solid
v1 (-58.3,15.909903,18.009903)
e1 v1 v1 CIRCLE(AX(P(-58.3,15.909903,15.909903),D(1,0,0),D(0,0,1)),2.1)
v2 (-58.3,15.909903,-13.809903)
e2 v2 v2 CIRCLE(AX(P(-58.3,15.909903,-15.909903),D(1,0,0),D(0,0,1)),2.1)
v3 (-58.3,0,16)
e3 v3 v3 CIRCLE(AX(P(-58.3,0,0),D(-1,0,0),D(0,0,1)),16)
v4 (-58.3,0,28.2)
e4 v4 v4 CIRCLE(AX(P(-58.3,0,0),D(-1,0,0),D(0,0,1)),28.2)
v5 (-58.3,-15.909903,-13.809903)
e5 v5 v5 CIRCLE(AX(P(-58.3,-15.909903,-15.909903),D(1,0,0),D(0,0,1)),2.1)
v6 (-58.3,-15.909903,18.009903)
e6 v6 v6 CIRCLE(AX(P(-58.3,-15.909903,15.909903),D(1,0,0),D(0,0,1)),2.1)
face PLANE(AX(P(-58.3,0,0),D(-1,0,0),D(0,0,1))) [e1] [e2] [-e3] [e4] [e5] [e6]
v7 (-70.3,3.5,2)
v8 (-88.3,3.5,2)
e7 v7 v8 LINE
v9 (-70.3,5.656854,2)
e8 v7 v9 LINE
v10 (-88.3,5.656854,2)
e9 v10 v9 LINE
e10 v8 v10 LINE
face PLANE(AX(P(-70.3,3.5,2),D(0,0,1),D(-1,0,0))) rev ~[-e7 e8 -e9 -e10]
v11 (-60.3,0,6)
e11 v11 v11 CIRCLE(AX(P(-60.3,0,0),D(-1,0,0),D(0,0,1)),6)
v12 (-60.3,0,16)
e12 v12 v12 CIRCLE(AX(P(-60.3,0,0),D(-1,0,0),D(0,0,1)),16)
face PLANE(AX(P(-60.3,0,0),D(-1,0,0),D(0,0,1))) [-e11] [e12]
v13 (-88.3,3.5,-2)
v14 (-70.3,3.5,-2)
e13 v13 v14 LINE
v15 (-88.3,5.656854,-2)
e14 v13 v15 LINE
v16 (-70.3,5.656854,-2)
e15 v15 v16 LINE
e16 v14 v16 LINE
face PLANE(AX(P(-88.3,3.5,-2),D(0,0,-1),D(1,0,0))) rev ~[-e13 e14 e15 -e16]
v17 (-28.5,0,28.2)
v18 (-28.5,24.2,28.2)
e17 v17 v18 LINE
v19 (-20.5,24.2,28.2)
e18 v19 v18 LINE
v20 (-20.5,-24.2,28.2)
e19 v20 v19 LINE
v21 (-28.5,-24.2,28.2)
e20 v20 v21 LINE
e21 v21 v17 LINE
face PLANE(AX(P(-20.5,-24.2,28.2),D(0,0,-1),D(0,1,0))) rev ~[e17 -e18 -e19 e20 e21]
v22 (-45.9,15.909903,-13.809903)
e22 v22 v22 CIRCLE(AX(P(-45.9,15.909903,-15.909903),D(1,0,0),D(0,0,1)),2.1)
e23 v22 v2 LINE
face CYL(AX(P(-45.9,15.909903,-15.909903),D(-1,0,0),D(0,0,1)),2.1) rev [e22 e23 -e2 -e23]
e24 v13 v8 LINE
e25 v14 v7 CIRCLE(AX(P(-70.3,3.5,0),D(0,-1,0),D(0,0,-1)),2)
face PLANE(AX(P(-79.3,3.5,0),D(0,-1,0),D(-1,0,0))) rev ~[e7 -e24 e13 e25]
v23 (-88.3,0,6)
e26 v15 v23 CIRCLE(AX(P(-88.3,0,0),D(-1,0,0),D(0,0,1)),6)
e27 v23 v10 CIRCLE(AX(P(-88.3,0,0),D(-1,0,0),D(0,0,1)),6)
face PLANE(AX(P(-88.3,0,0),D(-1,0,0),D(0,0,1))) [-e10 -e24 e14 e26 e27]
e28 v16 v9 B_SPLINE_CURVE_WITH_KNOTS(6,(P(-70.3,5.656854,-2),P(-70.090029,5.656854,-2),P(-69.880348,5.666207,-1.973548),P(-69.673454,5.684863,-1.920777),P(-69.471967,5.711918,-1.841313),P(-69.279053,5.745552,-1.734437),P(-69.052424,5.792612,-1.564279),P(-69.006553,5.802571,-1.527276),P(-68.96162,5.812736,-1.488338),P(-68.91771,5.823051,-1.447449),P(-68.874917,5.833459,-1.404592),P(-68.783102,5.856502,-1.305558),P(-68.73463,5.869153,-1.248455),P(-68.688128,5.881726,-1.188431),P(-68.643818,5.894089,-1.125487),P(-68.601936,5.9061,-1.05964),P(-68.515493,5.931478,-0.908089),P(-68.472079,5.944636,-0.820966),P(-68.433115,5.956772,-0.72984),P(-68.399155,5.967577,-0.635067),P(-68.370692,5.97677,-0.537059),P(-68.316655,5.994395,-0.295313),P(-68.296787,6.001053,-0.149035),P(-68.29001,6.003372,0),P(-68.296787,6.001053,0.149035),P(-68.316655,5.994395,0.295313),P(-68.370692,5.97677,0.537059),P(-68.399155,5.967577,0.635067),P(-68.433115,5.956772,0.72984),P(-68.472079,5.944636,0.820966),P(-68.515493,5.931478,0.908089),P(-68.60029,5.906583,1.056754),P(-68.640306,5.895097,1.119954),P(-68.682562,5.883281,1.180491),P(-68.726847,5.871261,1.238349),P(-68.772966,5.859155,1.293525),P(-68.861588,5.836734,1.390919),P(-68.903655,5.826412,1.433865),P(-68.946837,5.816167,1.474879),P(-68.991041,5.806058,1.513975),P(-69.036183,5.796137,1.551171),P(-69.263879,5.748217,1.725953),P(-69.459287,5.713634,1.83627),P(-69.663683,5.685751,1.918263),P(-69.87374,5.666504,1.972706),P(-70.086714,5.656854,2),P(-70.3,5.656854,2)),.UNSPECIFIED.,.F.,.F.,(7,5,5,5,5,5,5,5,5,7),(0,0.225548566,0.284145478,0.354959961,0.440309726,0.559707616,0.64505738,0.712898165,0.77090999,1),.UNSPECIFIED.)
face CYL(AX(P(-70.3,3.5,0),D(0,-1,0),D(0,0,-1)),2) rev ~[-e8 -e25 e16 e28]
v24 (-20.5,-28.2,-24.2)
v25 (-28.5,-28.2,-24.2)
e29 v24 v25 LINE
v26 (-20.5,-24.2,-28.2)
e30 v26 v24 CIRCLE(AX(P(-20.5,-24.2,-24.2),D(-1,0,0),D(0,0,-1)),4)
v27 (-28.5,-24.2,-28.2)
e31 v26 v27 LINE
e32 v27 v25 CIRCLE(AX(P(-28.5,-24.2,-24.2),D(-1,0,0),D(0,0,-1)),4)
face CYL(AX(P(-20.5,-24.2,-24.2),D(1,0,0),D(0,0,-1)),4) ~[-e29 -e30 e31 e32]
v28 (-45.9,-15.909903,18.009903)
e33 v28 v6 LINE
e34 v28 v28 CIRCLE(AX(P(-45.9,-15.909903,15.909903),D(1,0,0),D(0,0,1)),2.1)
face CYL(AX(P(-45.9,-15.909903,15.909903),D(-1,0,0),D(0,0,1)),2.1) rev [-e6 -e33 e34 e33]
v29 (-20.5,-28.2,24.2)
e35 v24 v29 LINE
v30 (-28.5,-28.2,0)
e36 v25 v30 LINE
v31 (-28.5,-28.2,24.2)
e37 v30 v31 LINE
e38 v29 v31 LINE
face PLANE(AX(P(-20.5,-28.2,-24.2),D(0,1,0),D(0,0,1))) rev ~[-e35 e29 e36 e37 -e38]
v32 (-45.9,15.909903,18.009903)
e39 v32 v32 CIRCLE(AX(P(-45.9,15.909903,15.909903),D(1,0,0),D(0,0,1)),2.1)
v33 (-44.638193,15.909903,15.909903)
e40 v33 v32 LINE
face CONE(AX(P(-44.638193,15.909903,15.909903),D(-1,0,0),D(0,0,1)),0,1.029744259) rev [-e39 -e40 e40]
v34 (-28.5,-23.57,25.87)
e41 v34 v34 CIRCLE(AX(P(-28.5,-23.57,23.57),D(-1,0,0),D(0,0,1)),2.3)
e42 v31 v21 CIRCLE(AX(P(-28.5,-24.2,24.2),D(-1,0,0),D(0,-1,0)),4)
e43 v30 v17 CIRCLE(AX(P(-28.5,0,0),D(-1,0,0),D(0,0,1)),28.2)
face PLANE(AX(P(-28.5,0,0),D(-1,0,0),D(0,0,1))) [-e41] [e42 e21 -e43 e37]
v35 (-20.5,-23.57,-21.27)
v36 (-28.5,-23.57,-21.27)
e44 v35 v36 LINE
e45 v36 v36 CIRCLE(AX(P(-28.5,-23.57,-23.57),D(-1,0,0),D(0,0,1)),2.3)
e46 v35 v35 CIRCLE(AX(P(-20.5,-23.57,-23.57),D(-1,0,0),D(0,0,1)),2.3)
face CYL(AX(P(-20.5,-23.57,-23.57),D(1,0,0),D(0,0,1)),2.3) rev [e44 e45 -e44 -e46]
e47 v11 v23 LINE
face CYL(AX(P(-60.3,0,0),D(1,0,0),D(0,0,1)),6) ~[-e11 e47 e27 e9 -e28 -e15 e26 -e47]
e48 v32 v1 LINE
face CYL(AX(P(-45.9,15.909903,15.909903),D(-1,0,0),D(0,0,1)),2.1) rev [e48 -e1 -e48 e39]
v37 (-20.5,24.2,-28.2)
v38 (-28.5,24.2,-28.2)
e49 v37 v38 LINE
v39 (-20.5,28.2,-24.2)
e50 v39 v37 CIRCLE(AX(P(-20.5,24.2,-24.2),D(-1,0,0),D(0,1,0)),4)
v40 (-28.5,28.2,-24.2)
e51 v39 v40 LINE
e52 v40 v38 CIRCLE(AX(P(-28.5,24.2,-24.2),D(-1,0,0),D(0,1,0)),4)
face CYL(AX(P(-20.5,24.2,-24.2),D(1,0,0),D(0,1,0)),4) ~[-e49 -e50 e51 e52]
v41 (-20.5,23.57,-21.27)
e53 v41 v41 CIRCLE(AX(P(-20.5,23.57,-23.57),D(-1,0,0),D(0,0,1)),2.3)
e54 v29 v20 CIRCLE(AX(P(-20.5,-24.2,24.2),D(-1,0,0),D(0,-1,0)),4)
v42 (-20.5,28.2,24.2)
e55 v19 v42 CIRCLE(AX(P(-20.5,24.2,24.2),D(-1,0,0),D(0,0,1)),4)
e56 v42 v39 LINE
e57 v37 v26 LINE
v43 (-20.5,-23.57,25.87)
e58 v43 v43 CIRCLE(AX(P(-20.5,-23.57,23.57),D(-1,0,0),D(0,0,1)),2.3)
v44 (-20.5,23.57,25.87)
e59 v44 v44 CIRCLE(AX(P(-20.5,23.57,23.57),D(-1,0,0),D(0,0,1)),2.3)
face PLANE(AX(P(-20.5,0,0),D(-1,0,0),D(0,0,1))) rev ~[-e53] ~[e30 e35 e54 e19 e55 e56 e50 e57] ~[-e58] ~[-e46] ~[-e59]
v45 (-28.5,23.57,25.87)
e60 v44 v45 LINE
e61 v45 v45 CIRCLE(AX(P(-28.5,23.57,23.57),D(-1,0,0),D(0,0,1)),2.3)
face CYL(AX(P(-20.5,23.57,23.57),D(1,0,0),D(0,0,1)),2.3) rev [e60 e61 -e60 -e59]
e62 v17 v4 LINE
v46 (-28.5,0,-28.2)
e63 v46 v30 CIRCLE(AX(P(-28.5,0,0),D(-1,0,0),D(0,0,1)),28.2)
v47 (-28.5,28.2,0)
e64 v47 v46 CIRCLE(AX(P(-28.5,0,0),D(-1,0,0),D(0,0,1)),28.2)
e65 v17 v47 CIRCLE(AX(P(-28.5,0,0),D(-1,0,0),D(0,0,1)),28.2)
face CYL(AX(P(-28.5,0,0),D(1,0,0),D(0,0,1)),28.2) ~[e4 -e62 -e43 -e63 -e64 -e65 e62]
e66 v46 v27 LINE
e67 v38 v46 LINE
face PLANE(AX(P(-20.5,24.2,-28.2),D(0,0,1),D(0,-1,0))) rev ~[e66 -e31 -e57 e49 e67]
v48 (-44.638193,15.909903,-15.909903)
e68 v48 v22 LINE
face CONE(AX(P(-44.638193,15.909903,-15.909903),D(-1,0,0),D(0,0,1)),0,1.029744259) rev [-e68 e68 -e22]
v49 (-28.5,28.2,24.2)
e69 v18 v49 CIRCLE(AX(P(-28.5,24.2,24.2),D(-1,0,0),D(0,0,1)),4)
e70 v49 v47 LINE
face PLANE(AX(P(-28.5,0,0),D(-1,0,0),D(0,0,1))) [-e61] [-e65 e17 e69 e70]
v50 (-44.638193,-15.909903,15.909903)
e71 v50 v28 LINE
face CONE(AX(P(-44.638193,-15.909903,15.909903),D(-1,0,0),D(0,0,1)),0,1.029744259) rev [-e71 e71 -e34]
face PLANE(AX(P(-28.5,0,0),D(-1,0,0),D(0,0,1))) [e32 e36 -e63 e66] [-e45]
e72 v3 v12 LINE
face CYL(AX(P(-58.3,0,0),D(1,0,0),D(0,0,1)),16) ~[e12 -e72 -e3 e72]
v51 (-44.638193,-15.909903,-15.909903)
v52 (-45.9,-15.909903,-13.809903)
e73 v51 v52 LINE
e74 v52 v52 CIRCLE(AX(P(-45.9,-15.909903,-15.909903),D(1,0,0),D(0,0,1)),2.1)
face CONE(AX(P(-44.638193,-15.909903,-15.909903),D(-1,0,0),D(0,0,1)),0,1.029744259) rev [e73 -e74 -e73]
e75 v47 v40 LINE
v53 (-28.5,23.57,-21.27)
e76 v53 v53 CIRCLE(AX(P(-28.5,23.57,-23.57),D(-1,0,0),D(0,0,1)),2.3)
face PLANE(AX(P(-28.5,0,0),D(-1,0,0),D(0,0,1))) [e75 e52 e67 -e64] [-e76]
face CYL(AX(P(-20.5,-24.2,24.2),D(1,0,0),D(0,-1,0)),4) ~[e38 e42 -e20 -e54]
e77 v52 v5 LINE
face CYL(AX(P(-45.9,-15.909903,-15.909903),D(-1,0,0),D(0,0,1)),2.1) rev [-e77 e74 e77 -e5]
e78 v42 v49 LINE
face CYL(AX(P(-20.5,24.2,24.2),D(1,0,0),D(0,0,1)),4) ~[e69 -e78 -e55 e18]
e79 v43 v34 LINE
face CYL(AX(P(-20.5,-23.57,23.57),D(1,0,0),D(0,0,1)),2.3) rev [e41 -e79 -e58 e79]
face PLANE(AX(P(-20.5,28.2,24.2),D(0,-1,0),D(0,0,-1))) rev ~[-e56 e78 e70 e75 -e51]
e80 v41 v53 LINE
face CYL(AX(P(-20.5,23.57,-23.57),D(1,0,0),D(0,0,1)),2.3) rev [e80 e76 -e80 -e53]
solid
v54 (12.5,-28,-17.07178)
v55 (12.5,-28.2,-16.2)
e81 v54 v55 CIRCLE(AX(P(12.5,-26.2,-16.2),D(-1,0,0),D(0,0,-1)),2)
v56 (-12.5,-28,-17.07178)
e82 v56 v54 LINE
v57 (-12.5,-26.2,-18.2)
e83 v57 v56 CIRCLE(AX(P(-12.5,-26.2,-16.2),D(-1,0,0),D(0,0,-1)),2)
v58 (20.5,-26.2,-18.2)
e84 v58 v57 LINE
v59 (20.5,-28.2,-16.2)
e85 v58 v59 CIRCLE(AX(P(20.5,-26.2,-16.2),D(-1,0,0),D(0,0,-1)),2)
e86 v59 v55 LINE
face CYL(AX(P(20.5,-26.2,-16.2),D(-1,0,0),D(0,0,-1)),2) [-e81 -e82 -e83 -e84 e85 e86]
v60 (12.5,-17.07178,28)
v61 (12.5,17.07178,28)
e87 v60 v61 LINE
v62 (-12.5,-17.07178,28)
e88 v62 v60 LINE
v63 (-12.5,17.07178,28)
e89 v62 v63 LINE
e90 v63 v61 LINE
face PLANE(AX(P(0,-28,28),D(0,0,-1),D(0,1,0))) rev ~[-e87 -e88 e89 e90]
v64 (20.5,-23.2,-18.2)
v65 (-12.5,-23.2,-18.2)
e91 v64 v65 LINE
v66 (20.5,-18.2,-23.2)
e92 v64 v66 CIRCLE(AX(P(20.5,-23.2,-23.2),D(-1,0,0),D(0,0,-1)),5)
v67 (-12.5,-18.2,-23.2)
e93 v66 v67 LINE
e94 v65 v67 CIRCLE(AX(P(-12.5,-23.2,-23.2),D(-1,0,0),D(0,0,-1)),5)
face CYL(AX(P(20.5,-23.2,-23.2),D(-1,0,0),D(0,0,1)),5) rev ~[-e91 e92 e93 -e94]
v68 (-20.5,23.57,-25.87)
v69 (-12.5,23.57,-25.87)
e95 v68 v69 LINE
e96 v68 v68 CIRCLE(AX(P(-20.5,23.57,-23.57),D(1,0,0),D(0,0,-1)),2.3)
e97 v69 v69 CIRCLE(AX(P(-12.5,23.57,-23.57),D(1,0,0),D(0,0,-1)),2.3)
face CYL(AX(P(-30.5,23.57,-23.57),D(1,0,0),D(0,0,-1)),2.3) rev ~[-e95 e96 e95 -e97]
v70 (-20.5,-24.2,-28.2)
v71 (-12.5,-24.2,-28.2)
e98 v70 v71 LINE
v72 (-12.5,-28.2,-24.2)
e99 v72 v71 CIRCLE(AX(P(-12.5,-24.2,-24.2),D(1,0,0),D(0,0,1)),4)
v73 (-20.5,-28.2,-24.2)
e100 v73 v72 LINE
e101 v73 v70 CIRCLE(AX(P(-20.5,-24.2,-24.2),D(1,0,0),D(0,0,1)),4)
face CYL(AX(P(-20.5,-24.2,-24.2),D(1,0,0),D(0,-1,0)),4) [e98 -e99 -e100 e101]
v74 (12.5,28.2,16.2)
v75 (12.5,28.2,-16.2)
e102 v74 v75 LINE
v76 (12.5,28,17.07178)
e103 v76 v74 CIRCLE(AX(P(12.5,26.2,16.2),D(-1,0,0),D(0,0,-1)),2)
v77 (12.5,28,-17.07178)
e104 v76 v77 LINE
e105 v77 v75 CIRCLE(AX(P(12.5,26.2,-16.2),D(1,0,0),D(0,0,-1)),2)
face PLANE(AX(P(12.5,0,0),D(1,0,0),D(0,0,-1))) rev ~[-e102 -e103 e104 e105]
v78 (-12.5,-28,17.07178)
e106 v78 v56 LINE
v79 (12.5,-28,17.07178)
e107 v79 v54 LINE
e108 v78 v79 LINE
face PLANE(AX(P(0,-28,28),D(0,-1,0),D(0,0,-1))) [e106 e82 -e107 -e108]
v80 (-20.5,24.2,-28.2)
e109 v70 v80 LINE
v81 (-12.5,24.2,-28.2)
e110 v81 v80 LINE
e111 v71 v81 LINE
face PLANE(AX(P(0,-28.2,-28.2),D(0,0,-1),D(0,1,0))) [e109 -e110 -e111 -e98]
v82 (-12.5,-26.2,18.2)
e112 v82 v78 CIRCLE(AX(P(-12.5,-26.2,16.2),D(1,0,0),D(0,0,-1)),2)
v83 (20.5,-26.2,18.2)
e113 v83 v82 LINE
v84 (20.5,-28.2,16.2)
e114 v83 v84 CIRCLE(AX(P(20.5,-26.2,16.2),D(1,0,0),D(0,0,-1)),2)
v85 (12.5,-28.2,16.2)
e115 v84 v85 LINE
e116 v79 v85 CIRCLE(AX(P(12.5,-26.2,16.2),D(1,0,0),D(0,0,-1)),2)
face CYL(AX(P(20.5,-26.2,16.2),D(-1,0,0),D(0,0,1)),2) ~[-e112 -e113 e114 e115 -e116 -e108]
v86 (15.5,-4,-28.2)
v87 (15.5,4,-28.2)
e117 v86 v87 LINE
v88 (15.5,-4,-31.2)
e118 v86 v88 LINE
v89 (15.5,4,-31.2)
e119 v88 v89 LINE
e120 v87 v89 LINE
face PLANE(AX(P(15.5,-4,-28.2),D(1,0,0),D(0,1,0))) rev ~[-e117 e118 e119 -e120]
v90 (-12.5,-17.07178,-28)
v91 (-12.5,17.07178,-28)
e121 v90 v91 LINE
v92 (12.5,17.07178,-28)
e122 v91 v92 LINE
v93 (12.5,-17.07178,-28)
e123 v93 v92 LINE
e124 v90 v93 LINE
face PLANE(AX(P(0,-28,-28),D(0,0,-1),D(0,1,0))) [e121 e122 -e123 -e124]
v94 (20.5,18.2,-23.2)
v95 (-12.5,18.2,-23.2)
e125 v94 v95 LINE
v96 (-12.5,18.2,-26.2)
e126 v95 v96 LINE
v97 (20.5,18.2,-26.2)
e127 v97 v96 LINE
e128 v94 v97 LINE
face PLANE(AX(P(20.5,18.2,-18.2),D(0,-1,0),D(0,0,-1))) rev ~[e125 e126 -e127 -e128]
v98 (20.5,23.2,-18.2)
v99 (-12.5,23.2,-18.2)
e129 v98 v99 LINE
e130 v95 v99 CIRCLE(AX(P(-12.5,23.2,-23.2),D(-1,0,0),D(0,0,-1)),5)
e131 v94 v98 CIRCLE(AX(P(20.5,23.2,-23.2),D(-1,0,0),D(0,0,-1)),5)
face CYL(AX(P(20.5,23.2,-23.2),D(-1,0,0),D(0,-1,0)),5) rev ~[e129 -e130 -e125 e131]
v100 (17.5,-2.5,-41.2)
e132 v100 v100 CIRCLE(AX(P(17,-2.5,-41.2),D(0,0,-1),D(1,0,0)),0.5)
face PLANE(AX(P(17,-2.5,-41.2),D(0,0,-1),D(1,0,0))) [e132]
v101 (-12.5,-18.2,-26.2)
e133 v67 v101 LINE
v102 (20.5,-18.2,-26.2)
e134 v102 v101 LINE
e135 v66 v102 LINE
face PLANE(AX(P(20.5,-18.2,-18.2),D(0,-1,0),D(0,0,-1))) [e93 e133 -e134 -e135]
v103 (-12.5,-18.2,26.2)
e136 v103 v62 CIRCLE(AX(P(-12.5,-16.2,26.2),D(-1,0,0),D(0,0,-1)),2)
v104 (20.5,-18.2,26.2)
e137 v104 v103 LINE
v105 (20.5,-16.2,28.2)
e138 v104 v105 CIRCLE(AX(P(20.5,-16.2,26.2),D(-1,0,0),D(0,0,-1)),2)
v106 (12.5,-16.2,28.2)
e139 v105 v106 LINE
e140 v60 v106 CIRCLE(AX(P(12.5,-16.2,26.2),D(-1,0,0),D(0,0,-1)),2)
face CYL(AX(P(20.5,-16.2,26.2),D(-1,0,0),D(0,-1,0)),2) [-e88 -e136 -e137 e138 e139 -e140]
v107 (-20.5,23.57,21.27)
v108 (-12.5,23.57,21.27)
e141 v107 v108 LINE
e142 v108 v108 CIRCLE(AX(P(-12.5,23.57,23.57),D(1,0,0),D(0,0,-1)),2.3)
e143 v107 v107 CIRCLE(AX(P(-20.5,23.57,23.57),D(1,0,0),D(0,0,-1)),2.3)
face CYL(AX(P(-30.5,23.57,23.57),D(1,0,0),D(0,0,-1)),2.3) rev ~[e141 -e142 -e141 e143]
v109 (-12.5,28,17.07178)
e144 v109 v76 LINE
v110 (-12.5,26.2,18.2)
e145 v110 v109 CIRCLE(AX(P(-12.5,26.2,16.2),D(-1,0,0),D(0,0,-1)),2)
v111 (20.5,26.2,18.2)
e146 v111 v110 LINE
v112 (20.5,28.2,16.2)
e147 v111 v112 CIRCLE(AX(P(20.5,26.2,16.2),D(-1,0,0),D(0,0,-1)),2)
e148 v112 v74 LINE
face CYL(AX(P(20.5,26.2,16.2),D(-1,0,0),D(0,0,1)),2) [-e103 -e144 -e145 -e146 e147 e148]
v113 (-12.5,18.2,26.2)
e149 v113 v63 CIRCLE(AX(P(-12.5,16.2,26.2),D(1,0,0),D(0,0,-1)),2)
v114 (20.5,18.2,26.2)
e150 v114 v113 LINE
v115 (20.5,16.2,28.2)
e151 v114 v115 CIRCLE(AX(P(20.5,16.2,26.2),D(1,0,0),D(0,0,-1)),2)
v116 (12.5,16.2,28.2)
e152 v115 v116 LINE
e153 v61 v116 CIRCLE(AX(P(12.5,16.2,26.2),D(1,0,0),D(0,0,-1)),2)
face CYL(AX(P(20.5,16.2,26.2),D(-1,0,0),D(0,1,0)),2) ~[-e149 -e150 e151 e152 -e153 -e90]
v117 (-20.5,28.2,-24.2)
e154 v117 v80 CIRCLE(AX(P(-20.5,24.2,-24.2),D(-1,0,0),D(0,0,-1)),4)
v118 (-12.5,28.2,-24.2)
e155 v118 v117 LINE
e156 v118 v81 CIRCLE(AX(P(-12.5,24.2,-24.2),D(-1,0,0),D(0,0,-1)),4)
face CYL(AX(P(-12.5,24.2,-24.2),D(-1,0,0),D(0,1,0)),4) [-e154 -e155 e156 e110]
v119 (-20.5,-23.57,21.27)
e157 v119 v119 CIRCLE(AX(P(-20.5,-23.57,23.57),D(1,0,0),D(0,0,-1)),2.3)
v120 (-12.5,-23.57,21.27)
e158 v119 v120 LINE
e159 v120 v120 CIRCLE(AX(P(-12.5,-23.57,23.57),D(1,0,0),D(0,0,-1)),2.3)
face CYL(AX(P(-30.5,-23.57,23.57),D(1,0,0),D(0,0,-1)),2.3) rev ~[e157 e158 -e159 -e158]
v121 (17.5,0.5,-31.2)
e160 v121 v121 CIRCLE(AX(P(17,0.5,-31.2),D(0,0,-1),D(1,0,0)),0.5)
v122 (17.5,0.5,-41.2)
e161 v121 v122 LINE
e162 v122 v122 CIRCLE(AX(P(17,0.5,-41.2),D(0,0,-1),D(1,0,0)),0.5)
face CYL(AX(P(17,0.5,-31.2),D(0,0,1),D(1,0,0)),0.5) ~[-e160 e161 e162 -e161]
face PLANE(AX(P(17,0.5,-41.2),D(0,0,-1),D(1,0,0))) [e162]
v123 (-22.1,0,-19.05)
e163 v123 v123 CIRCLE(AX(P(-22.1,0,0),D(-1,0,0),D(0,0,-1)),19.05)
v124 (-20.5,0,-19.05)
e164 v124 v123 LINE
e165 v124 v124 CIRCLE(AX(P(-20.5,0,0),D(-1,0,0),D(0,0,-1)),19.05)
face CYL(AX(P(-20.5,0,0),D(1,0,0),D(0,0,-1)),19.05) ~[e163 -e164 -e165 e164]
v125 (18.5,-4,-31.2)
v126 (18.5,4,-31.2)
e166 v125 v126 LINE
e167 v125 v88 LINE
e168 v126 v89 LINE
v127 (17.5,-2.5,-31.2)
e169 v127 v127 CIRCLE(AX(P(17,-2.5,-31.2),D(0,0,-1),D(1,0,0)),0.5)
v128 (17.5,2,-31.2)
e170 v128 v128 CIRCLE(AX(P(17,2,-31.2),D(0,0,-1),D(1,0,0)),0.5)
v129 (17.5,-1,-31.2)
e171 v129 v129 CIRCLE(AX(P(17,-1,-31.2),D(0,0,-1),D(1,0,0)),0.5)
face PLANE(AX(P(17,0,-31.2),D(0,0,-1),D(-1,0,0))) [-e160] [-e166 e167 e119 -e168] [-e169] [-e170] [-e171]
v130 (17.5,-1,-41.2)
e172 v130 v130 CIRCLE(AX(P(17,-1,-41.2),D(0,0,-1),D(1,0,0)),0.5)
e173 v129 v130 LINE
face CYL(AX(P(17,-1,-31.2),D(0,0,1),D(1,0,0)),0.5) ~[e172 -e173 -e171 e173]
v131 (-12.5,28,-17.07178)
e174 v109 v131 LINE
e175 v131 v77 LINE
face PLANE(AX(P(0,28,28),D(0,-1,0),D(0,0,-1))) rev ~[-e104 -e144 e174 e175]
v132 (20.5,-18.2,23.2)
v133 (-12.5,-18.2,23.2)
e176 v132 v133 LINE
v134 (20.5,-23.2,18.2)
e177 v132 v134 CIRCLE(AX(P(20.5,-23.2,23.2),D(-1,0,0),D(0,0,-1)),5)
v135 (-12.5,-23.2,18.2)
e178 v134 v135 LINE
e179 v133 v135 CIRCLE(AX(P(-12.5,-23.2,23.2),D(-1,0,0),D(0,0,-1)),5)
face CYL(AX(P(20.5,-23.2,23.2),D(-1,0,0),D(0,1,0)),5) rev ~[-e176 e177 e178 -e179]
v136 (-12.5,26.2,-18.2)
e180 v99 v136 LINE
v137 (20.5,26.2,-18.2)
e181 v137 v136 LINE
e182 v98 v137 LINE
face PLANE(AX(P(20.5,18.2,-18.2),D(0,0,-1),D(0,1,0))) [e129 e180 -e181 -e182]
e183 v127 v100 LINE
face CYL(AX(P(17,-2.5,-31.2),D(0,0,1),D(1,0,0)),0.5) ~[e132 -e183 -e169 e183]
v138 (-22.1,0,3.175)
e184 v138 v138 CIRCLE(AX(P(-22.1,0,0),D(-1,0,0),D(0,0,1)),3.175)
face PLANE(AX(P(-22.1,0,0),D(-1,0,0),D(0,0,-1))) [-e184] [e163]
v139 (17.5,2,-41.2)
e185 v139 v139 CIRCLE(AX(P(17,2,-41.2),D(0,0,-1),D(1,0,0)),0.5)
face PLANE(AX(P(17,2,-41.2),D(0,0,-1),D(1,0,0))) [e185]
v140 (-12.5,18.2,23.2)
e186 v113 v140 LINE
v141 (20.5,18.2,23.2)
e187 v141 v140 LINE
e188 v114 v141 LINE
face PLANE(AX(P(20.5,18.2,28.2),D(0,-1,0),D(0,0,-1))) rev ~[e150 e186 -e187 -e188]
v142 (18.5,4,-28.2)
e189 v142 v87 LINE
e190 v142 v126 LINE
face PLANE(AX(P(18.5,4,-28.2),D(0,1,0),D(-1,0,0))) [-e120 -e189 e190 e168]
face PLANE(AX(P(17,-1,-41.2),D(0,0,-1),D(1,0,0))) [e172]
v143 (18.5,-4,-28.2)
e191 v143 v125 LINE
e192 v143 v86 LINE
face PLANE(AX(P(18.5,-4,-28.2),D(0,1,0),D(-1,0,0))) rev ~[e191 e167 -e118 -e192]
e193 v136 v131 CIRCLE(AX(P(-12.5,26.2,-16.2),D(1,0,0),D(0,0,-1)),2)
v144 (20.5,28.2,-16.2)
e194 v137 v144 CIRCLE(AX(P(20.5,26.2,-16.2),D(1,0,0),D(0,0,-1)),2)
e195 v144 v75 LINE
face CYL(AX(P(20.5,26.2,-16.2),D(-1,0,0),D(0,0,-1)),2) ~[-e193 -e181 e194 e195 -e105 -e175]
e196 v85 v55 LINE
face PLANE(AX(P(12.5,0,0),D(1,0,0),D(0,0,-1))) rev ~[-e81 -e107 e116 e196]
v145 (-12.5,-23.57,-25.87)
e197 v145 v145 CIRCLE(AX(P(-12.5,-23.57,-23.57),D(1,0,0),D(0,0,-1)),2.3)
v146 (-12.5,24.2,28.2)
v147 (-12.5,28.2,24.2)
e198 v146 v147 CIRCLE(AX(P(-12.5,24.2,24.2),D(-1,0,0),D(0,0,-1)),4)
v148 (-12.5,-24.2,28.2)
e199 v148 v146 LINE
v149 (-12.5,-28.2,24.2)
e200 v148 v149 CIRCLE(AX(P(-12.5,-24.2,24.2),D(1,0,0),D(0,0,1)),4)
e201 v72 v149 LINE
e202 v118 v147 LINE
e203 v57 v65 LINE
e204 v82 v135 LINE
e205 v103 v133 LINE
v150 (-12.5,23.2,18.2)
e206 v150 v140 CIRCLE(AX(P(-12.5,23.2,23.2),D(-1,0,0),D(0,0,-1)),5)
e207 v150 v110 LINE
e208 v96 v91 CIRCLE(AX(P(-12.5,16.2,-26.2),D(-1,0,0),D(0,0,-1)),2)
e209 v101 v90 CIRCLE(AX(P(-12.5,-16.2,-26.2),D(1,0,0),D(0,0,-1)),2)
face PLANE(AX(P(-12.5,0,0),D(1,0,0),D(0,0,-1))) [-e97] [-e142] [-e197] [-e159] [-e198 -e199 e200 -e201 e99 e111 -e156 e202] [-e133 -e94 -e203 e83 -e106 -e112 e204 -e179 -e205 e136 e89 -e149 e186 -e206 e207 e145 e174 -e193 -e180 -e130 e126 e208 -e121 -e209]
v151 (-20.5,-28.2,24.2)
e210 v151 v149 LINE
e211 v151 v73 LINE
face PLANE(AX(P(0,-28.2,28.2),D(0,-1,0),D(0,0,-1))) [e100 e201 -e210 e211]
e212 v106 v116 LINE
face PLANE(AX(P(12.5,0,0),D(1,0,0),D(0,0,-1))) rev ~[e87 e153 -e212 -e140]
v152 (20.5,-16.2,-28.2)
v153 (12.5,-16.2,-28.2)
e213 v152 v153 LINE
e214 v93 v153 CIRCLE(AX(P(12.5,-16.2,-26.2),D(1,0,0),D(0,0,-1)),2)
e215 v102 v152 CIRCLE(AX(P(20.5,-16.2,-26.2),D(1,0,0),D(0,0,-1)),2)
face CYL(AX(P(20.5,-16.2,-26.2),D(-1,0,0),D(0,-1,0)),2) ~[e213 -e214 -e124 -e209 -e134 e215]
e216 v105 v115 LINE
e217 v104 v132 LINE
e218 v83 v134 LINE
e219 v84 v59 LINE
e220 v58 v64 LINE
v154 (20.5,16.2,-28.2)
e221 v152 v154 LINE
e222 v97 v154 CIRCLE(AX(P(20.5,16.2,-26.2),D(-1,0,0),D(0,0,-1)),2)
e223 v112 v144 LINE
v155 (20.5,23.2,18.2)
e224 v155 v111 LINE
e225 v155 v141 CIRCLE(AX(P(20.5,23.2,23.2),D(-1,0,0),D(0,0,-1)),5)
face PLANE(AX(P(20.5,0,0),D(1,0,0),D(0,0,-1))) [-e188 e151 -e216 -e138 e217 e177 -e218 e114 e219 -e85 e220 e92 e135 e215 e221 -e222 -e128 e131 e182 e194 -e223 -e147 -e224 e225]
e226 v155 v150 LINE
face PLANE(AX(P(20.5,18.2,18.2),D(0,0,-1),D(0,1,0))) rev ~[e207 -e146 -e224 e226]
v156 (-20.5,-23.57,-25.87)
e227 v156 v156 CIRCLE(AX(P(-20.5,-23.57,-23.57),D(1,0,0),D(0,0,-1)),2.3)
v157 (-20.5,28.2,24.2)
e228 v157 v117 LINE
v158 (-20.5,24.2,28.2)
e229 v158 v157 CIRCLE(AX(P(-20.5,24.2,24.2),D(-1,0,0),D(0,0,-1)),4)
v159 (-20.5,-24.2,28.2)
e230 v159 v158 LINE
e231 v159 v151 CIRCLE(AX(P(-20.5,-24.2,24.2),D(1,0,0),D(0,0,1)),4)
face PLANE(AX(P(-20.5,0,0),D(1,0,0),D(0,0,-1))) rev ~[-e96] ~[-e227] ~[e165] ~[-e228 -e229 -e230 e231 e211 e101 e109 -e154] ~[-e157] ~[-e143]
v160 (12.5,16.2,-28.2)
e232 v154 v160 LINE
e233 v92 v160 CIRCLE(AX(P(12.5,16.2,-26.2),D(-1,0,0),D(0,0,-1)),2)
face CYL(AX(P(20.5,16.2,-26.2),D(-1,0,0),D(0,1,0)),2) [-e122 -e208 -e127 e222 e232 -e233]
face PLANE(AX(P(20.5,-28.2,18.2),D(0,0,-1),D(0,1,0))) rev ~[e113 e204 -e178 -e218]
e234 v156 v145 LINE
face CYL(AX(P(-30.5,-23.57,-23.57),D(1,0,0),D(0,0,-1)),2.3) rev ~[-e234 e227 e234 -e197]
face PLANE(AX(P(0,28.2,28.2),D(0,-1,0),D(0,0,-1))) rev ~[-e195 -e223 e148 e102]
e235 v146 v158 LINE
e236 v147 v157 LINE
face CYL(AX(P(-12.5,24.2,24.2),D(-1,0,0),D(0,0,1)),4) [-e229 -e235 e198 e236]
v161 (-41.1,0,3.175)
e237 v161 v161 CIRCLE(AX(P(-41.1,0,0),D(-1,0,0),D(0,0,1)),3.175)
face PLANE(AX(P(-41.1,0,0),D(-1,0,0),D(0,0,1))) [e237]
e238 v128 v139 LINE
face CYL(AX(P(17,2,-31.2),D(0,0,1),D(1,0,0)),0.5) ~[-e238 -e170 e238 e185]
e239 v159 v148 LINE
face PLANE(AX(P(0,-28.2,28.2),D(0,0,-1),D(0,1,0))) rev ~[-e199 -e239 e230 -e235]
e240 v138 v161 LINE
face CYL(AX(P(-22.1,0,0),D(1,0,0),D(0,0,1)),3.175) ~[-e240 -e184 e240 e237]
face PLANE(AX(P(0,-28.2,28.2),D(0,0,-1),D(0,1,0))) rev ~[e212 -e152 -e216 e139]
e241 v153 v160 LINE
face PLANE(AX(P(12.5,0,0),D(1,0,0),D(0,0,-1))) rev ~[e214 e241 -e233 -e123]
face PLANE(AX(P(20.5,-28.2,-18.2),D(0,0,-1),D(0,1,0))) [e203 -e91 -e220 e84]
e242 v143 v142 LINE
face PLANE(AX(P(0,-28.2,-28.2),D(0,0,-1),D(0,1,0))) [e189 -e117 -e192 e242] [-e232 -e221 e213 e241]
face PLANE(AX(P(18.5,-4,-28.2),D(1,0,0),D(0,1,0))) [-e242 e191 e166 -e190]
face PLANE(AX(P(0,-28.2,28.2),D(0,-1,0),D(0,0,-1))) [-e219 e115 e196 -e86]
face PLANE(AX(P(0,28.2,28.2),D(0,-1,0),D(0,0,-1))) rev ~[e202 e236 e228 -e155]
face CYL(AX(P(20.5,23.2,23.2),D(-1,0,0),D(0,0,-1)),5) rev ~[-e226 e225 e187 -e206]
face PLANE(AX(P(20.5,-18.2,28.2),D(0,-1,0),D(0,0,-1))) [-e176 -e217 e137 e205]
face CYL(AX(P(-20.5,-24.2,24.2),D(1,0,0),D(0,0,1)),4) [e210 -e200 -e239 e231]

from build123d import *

# Parameters (mm, degrees)
SKETCH_1_W                  = 56.4
SKETCH_1_H                  = 56.4
EXTRUDE_1_DEPTH             = 20.5
SKETCH_7_W                  = 56.4
SKETCH_7_H                  = 56.4
SKETCH_7_W_2                = 56
SKETCH_7_H_2                = 56
CUT_EXTRUDE_1_DEPTH         = 12.5
SKETCH_2_R                  = 19.05
EXTRUDE_2_DEPTH             = 1.6
SKETCH_3_R                  = 3.175
EXTRUDE_3_DEPTH             = 19
SKETCH_10_W                 = 3
SKETCH_10_H                 = 8
EXTRUDE_4_DEPTH             = 3
SKETCH_11_R                 = 0.5
EXTRUDE_5_DEPTH             = 10
SKETCH_12_W                 = 10
SKETCH_12_H                 = 10
CUT_EXTRUDE_2_DEPTH         = 33
FILLET_2_R                  = 5
FILLET_3_R                  = 2
HOLE_WIZARD_4_6_4_6_1_D     = 4.6
HOLE_WIZARD_4_6_4_6_1_DEPTH = 10
HOLE_WIZARD_4_6_4_6_1_TIP   = 1.381979424
FILLET_1_R                  = 4
SKETCH_13_R                 = 2.3
EXTRUDE_6_DEPTH             = 8
SKETCH_14_R                 = 28.2
EXTRUDE_7_DEPTH             = 29.8
SKETCH_15_R                 = 16
EXTRUDE_8_DEPTH             = 2
SKETCH_16_R                 = 6
EXTRUDE_9_DEPTH             = 28
CUT_EXTRUDE_START           = 3.5
CUT_EXTRUDE_4_DEPTH         = 28
HOLE_WIZARD_M5_1_AT_2_COUNT = 2
HOLE_WIZARD_M5_1_AT_2_PITCH = 31.819805153
HOLE_WIZARD_M5_1_AT_3_COUNT = 2
HOLE_WIZARD_M5_1_AT_3_PITCH = 31.819805153
HOLE_WIZARD_M5_1_AT_4_COUNT = 2
HOLE_WIZARD_M5_1_AT_4_PITCH = 45


with BuildPart() as part:
    # 草图1 → 凸台-拉伸1 (new, symmetric)
    with BuildSketch(Plane(origin=(0, 0, 0), x_dir=(0, 0, -1), z_dir=(1, 0, 0))):
        Rectangle(SKETCH_1_W, SKETCH_1_H)
    extrude(amount=EXTRUDE_1_DEPTH, both=True)

    # 草图7 → 切除-拉伸1 (cut, symmetric)
    with BuildSketch(Plane(origin=(0, 0, 0), x_dir=(0, 0, -1), z_dir=(1, 0, 0))):
        Rectangle(SKETCH_7_W, SKETCH_7_H)
        Rectangle(SKETCH_7_W_2, SKETCH_7_H_2, mode=Mode.SUBTRACT)
    extrude(amount=CUT_EXTRUDE_1_DEPTH, both=True, mode=Mode.SUBTRACT)

    # 草图2 → 凸台-拉伸2 (add)
    with BuildSketch(Plane.ZY.offset(20.5)):
        with Locations(Location((0, 0, 0), (0, 0, 180))):
            Circle(SKETCH_2_R)
    extrude(amount=EXTRUDE_2_DEPTH)

    # 草图3 → 凸台-拉伸3 (add)
    with BuildSketch(Plane.ZY.offset(22.1)):
        Circle(SKETCH_3_R)
    extrude(amount=EXTRUDE_3_DEPTH)

    # 草图10 → 凸台-拉伸4 (add)
    with BuildSketch(Plane(origin=(0, 0, -28.2), x_dir=(-1, 0, 0), z_dir=(0, 0, -1))):
        with Locations((-17, 0)):
            Rectangle(SKETCH_10_W, SKETCH_10_H)
    extrude(amount=EXTRUDE_4_DEPTH)

    # 草图11 → 凸台-拉伸5 (add)
    with BuildSketch(Plane(origin=(0, 0, -31.2), x_dir=(-1, 0, 0), z_dir=(0, 0, -1))):
        with Locations(Location((-17, -2.5, 0), (0, 0, 180))):
            Circle(SKETCH_11_R)
        with Locations(Location((-17, -1, 0), (0, 0, 180))):
            Circle(SKETCH_11_R)
        with Locations(Location((-17, 0.5, 0), (0, 0, 180))):
            Circle(SKETCH_11_R)
        with Locations(Location((-17, 2, 0), (0, 0, 180))):
            Circle(SKETCH_11_R)
    extrude(amount=EXTRUDE_5_DEPTH)

    # 草图12 → 切除-拉伸2 (cut)
    with BuildSketch(Plane(origin=(20.5, 0, 0), x_dir=(0, 0, -1), z_dir=(1, 0, 0))):
        with Locations((23.2, -23.2)):
            Rectangle(SKETCH_12_W, SKETCH_12_H)
        with Locations((-23.2, -23.2)):
            Rectangle(SKETCH_12_W, SKETCH_12_H)
        with Locations((-23.2, 23.2)):
            Rectangle(SKETCH_12_W, SKETCH_12_H)
        with Locations((23.2, 23.2)):
            Rectangle(SKETCH_12_W, SKETCH_12_H)
    extrude(amount=-CUT_EXTRUDE_2_DEPTH, mode=Mode.SUBTRACT)

    # 圆角2
    fillet_2_edges = [part.edges().sort_by_distance(p)[0] for p in [
        (4, -18.2, 18.2),
        (4, 18.2, 18.2),
        (4, 18.2, -18.2),
        (4, -18.2, -18.2),
    ]]
    fillet(fillet_2_edges, radius=FILLET_2_R)

    # 圆角3
    fillet_3_edges = [part.edges().sort_by_distance(p)[0] for p in [
        (16.5, 28.2, -18.2),
        (16.5, 28.2, 18.2),
        (16.5, 18.2, 28.2),
        (16.5, -18.2, 28.2),
        (16.5, -28.2, 18.2),
        (16.5, -28.2, -18.2),
        (16.5, -18.2, -28.2),
        (16.5, 18.2, -28.2),
    ]]
    fillet(fillet_3_edges, radius=FILLET_3_R)

    # Ø4.6 (4.6) 直径孔1
    with Locations(Plane.ZY.offset(20.5)):
        with Locations((-23.57, 23.57), (23.57, 23.57), (23.57, -23.57), (-23.57, -23.57)):
            Hole(HOLE_WIZARD_4_6_4_6_1_D / 2, depth=HOLE_WIZARD_4_6_4_6_1_DEPTH)
            with Locations((0, 0, -(HOLE_WIZARD_4_6_4_6_1_DEPTH + HOLE_WIZARD_4_6_4_6_1_TIP / 2))):  # 118° drill point
                Cone(0, HOLE_WIZARD_4_6_4_6_1_D / 2, HOLE_WIZARD_4_6_4_6_1_TIP, mode=Mode.SUBTRACT)

    # 圆角1
    fillet_1_edges = [part.edges().sort_by_distance(p)[0] for p in [
        (-16.5, 28.2, 28.2),
        (-16.5, 28.2, -28.2),
        (-16.5, -28.2, -28.2),
        (-16.5, -28.2, 28.2),
    ]]
    fillet(fillet_1_edges, radius=FILLET_1_R)


with BuildPart() as body_2:
    # 草图13 → 凸台-拉伸6 (new body)
    with BuildSketch(Plane.ZY.offset(20.5)):
        with BuildLine():
            Line((-24.2, -28.2), (24.2, -28.2))
            ThreePointArc((24.2, -28.2), (27.028427125, -27.028427125), (28.2, -24.2))
            Line((28.2, -24.2), (28.2, 24.2))
            ThreePointArc((28.2, 24.2), (27.028427125, 27.028427125), (24.2, 28.2))
            Line((24.2, 28.2), (-24.2, 28.2))
            ThreePointArc((-24.2, 28.2), (-27.028427125, 27.028427125), (-28.2, 24.2))
            Line((-28.2, 24.2), (-28.2, -24.2))
            ThreePointArc((-28.2, -24.2), (-27.028427125, -27.028427125), (-24.2, -28.2))
        make_face()
        with Locations((-23.57, 23.57)):
            Circle(SKETCH_13_R, mode=Mode.SUBTRACT)
        with Locations((23.57, 23.57)):
            Circle(SKETCH_13_R, mode=Mode.SUBTRACT)
        with Locations((-23.57, -23.57)):
            Circle(SKETCH_13_R, mode=Mode.SUBTRACT)
        with Locations((23.57, -23.57)):
            Circle(SKETCH_13_R, mode=Mode.SUBTRACT)
    extrude(amount=EXTRUDE_6_DEPTH)

    # 草图14 → 凸台-拉伸7 (add)
    with BuildSketch(Plane.ZY.offset(28.5)):
        Circle(SKETCH_14_R)
    extrude(amount=EXTRUDE_7_DEPTH)

    # 草图15 → 凸台-拉伸8 (add)
    with BuildSketch(Plane.ZY.offset(58.3)):
        Circle(SKETCH_15_R)
    extrude(amount=EXTRUDE_8_DEPTH)

    # 草图16 → 凸台-拉伸9 (add)
    with BuildSketch(Plane.ZY.offset(60.3)):
        Circle(SKETCH_16_R)
    extrude(amount=EXTRUDE_9_DEPTH)

    # 草图17 → 切除-拉伸4 (cut)
    with BuildSketch(Plane(origin=(0, 0, 0), x_dir=(1, 0, 0), z_dir=(0, 1, 0)).offset(CUT_EXTRUDE_START)):
        with BuildLine():
            Line((-88.3, 2), (-70.3, 2))
            ThreePointArc((-70.3, 2), (-68.3, 0), (-70.3, -2))
            Line((-70.3, -2), (-88.3, -2))
            ThreePointArc((-88.3, -2), (-90.3, 0), (-88.3, 2))
        make_face()
    extrude(amount=CUT_EXTRUDE_4_DEPTH, mode=Mode.SUBTRACT)

    # 草图19 → M5 螺纹孔1 (revolve, cut)
    with BuildSketch(Plane(origin=(-58.3, 15.909902577, -15.909902577), x_dir=(0, 0, 1), z_dir=(0, 1, 0))):
        Polygon((0, 0), (0, 13.6618073), (2.1, 12.4), (2.1, 0), align=None)
    hole_wizard_m5_1 = revolve(axis=Axis((-64.65, 15.909902577, -15.909902577), (1, 0, 0)), mode=Mode.SUBTRACT)

    # M5 螺纹孔1 at 2: M5 螺纹孔1 ×2
    with Locations(*[(0, 0, i * HOLE_WIZARD_M5_1_AT_2_PITCH) for i in range(1, HOLE_WIZARD_M5_1_AT_2_COUNT)]):
        add(hole_wizard_m5_1, mode=Mode.SUBTRACT)

    # M5 螺纹孔1 at 3: M5 螺纹孔1 ×2
    with Locations(*[(0, -i * HOLE_WIZARD_M5_1_AT_3_PITCH, 0) for i in range(1, HOLE_WIZARD_M5_1_AT_3_COUNT)]):
        add(hole_wizard_m5_1, mode=Mode.SUBTRACT)

    # M5 螺纹孔1 at 4: M5 螺纹孔1 ×2
    with Locations(*[Vector(0, -0.7071067811865475, 0.7071067811865477) * (i * HOLE_WIZARD_M5_1_AT_4_PITCH) for i in range(1, HOLE_WIZARD_M5_1_AT_4_COUNT)]):
        add(hole_wizard_m5_1, mode=Mode.SUBTRACT)


solid = Compound([part.part, body_2.part])
